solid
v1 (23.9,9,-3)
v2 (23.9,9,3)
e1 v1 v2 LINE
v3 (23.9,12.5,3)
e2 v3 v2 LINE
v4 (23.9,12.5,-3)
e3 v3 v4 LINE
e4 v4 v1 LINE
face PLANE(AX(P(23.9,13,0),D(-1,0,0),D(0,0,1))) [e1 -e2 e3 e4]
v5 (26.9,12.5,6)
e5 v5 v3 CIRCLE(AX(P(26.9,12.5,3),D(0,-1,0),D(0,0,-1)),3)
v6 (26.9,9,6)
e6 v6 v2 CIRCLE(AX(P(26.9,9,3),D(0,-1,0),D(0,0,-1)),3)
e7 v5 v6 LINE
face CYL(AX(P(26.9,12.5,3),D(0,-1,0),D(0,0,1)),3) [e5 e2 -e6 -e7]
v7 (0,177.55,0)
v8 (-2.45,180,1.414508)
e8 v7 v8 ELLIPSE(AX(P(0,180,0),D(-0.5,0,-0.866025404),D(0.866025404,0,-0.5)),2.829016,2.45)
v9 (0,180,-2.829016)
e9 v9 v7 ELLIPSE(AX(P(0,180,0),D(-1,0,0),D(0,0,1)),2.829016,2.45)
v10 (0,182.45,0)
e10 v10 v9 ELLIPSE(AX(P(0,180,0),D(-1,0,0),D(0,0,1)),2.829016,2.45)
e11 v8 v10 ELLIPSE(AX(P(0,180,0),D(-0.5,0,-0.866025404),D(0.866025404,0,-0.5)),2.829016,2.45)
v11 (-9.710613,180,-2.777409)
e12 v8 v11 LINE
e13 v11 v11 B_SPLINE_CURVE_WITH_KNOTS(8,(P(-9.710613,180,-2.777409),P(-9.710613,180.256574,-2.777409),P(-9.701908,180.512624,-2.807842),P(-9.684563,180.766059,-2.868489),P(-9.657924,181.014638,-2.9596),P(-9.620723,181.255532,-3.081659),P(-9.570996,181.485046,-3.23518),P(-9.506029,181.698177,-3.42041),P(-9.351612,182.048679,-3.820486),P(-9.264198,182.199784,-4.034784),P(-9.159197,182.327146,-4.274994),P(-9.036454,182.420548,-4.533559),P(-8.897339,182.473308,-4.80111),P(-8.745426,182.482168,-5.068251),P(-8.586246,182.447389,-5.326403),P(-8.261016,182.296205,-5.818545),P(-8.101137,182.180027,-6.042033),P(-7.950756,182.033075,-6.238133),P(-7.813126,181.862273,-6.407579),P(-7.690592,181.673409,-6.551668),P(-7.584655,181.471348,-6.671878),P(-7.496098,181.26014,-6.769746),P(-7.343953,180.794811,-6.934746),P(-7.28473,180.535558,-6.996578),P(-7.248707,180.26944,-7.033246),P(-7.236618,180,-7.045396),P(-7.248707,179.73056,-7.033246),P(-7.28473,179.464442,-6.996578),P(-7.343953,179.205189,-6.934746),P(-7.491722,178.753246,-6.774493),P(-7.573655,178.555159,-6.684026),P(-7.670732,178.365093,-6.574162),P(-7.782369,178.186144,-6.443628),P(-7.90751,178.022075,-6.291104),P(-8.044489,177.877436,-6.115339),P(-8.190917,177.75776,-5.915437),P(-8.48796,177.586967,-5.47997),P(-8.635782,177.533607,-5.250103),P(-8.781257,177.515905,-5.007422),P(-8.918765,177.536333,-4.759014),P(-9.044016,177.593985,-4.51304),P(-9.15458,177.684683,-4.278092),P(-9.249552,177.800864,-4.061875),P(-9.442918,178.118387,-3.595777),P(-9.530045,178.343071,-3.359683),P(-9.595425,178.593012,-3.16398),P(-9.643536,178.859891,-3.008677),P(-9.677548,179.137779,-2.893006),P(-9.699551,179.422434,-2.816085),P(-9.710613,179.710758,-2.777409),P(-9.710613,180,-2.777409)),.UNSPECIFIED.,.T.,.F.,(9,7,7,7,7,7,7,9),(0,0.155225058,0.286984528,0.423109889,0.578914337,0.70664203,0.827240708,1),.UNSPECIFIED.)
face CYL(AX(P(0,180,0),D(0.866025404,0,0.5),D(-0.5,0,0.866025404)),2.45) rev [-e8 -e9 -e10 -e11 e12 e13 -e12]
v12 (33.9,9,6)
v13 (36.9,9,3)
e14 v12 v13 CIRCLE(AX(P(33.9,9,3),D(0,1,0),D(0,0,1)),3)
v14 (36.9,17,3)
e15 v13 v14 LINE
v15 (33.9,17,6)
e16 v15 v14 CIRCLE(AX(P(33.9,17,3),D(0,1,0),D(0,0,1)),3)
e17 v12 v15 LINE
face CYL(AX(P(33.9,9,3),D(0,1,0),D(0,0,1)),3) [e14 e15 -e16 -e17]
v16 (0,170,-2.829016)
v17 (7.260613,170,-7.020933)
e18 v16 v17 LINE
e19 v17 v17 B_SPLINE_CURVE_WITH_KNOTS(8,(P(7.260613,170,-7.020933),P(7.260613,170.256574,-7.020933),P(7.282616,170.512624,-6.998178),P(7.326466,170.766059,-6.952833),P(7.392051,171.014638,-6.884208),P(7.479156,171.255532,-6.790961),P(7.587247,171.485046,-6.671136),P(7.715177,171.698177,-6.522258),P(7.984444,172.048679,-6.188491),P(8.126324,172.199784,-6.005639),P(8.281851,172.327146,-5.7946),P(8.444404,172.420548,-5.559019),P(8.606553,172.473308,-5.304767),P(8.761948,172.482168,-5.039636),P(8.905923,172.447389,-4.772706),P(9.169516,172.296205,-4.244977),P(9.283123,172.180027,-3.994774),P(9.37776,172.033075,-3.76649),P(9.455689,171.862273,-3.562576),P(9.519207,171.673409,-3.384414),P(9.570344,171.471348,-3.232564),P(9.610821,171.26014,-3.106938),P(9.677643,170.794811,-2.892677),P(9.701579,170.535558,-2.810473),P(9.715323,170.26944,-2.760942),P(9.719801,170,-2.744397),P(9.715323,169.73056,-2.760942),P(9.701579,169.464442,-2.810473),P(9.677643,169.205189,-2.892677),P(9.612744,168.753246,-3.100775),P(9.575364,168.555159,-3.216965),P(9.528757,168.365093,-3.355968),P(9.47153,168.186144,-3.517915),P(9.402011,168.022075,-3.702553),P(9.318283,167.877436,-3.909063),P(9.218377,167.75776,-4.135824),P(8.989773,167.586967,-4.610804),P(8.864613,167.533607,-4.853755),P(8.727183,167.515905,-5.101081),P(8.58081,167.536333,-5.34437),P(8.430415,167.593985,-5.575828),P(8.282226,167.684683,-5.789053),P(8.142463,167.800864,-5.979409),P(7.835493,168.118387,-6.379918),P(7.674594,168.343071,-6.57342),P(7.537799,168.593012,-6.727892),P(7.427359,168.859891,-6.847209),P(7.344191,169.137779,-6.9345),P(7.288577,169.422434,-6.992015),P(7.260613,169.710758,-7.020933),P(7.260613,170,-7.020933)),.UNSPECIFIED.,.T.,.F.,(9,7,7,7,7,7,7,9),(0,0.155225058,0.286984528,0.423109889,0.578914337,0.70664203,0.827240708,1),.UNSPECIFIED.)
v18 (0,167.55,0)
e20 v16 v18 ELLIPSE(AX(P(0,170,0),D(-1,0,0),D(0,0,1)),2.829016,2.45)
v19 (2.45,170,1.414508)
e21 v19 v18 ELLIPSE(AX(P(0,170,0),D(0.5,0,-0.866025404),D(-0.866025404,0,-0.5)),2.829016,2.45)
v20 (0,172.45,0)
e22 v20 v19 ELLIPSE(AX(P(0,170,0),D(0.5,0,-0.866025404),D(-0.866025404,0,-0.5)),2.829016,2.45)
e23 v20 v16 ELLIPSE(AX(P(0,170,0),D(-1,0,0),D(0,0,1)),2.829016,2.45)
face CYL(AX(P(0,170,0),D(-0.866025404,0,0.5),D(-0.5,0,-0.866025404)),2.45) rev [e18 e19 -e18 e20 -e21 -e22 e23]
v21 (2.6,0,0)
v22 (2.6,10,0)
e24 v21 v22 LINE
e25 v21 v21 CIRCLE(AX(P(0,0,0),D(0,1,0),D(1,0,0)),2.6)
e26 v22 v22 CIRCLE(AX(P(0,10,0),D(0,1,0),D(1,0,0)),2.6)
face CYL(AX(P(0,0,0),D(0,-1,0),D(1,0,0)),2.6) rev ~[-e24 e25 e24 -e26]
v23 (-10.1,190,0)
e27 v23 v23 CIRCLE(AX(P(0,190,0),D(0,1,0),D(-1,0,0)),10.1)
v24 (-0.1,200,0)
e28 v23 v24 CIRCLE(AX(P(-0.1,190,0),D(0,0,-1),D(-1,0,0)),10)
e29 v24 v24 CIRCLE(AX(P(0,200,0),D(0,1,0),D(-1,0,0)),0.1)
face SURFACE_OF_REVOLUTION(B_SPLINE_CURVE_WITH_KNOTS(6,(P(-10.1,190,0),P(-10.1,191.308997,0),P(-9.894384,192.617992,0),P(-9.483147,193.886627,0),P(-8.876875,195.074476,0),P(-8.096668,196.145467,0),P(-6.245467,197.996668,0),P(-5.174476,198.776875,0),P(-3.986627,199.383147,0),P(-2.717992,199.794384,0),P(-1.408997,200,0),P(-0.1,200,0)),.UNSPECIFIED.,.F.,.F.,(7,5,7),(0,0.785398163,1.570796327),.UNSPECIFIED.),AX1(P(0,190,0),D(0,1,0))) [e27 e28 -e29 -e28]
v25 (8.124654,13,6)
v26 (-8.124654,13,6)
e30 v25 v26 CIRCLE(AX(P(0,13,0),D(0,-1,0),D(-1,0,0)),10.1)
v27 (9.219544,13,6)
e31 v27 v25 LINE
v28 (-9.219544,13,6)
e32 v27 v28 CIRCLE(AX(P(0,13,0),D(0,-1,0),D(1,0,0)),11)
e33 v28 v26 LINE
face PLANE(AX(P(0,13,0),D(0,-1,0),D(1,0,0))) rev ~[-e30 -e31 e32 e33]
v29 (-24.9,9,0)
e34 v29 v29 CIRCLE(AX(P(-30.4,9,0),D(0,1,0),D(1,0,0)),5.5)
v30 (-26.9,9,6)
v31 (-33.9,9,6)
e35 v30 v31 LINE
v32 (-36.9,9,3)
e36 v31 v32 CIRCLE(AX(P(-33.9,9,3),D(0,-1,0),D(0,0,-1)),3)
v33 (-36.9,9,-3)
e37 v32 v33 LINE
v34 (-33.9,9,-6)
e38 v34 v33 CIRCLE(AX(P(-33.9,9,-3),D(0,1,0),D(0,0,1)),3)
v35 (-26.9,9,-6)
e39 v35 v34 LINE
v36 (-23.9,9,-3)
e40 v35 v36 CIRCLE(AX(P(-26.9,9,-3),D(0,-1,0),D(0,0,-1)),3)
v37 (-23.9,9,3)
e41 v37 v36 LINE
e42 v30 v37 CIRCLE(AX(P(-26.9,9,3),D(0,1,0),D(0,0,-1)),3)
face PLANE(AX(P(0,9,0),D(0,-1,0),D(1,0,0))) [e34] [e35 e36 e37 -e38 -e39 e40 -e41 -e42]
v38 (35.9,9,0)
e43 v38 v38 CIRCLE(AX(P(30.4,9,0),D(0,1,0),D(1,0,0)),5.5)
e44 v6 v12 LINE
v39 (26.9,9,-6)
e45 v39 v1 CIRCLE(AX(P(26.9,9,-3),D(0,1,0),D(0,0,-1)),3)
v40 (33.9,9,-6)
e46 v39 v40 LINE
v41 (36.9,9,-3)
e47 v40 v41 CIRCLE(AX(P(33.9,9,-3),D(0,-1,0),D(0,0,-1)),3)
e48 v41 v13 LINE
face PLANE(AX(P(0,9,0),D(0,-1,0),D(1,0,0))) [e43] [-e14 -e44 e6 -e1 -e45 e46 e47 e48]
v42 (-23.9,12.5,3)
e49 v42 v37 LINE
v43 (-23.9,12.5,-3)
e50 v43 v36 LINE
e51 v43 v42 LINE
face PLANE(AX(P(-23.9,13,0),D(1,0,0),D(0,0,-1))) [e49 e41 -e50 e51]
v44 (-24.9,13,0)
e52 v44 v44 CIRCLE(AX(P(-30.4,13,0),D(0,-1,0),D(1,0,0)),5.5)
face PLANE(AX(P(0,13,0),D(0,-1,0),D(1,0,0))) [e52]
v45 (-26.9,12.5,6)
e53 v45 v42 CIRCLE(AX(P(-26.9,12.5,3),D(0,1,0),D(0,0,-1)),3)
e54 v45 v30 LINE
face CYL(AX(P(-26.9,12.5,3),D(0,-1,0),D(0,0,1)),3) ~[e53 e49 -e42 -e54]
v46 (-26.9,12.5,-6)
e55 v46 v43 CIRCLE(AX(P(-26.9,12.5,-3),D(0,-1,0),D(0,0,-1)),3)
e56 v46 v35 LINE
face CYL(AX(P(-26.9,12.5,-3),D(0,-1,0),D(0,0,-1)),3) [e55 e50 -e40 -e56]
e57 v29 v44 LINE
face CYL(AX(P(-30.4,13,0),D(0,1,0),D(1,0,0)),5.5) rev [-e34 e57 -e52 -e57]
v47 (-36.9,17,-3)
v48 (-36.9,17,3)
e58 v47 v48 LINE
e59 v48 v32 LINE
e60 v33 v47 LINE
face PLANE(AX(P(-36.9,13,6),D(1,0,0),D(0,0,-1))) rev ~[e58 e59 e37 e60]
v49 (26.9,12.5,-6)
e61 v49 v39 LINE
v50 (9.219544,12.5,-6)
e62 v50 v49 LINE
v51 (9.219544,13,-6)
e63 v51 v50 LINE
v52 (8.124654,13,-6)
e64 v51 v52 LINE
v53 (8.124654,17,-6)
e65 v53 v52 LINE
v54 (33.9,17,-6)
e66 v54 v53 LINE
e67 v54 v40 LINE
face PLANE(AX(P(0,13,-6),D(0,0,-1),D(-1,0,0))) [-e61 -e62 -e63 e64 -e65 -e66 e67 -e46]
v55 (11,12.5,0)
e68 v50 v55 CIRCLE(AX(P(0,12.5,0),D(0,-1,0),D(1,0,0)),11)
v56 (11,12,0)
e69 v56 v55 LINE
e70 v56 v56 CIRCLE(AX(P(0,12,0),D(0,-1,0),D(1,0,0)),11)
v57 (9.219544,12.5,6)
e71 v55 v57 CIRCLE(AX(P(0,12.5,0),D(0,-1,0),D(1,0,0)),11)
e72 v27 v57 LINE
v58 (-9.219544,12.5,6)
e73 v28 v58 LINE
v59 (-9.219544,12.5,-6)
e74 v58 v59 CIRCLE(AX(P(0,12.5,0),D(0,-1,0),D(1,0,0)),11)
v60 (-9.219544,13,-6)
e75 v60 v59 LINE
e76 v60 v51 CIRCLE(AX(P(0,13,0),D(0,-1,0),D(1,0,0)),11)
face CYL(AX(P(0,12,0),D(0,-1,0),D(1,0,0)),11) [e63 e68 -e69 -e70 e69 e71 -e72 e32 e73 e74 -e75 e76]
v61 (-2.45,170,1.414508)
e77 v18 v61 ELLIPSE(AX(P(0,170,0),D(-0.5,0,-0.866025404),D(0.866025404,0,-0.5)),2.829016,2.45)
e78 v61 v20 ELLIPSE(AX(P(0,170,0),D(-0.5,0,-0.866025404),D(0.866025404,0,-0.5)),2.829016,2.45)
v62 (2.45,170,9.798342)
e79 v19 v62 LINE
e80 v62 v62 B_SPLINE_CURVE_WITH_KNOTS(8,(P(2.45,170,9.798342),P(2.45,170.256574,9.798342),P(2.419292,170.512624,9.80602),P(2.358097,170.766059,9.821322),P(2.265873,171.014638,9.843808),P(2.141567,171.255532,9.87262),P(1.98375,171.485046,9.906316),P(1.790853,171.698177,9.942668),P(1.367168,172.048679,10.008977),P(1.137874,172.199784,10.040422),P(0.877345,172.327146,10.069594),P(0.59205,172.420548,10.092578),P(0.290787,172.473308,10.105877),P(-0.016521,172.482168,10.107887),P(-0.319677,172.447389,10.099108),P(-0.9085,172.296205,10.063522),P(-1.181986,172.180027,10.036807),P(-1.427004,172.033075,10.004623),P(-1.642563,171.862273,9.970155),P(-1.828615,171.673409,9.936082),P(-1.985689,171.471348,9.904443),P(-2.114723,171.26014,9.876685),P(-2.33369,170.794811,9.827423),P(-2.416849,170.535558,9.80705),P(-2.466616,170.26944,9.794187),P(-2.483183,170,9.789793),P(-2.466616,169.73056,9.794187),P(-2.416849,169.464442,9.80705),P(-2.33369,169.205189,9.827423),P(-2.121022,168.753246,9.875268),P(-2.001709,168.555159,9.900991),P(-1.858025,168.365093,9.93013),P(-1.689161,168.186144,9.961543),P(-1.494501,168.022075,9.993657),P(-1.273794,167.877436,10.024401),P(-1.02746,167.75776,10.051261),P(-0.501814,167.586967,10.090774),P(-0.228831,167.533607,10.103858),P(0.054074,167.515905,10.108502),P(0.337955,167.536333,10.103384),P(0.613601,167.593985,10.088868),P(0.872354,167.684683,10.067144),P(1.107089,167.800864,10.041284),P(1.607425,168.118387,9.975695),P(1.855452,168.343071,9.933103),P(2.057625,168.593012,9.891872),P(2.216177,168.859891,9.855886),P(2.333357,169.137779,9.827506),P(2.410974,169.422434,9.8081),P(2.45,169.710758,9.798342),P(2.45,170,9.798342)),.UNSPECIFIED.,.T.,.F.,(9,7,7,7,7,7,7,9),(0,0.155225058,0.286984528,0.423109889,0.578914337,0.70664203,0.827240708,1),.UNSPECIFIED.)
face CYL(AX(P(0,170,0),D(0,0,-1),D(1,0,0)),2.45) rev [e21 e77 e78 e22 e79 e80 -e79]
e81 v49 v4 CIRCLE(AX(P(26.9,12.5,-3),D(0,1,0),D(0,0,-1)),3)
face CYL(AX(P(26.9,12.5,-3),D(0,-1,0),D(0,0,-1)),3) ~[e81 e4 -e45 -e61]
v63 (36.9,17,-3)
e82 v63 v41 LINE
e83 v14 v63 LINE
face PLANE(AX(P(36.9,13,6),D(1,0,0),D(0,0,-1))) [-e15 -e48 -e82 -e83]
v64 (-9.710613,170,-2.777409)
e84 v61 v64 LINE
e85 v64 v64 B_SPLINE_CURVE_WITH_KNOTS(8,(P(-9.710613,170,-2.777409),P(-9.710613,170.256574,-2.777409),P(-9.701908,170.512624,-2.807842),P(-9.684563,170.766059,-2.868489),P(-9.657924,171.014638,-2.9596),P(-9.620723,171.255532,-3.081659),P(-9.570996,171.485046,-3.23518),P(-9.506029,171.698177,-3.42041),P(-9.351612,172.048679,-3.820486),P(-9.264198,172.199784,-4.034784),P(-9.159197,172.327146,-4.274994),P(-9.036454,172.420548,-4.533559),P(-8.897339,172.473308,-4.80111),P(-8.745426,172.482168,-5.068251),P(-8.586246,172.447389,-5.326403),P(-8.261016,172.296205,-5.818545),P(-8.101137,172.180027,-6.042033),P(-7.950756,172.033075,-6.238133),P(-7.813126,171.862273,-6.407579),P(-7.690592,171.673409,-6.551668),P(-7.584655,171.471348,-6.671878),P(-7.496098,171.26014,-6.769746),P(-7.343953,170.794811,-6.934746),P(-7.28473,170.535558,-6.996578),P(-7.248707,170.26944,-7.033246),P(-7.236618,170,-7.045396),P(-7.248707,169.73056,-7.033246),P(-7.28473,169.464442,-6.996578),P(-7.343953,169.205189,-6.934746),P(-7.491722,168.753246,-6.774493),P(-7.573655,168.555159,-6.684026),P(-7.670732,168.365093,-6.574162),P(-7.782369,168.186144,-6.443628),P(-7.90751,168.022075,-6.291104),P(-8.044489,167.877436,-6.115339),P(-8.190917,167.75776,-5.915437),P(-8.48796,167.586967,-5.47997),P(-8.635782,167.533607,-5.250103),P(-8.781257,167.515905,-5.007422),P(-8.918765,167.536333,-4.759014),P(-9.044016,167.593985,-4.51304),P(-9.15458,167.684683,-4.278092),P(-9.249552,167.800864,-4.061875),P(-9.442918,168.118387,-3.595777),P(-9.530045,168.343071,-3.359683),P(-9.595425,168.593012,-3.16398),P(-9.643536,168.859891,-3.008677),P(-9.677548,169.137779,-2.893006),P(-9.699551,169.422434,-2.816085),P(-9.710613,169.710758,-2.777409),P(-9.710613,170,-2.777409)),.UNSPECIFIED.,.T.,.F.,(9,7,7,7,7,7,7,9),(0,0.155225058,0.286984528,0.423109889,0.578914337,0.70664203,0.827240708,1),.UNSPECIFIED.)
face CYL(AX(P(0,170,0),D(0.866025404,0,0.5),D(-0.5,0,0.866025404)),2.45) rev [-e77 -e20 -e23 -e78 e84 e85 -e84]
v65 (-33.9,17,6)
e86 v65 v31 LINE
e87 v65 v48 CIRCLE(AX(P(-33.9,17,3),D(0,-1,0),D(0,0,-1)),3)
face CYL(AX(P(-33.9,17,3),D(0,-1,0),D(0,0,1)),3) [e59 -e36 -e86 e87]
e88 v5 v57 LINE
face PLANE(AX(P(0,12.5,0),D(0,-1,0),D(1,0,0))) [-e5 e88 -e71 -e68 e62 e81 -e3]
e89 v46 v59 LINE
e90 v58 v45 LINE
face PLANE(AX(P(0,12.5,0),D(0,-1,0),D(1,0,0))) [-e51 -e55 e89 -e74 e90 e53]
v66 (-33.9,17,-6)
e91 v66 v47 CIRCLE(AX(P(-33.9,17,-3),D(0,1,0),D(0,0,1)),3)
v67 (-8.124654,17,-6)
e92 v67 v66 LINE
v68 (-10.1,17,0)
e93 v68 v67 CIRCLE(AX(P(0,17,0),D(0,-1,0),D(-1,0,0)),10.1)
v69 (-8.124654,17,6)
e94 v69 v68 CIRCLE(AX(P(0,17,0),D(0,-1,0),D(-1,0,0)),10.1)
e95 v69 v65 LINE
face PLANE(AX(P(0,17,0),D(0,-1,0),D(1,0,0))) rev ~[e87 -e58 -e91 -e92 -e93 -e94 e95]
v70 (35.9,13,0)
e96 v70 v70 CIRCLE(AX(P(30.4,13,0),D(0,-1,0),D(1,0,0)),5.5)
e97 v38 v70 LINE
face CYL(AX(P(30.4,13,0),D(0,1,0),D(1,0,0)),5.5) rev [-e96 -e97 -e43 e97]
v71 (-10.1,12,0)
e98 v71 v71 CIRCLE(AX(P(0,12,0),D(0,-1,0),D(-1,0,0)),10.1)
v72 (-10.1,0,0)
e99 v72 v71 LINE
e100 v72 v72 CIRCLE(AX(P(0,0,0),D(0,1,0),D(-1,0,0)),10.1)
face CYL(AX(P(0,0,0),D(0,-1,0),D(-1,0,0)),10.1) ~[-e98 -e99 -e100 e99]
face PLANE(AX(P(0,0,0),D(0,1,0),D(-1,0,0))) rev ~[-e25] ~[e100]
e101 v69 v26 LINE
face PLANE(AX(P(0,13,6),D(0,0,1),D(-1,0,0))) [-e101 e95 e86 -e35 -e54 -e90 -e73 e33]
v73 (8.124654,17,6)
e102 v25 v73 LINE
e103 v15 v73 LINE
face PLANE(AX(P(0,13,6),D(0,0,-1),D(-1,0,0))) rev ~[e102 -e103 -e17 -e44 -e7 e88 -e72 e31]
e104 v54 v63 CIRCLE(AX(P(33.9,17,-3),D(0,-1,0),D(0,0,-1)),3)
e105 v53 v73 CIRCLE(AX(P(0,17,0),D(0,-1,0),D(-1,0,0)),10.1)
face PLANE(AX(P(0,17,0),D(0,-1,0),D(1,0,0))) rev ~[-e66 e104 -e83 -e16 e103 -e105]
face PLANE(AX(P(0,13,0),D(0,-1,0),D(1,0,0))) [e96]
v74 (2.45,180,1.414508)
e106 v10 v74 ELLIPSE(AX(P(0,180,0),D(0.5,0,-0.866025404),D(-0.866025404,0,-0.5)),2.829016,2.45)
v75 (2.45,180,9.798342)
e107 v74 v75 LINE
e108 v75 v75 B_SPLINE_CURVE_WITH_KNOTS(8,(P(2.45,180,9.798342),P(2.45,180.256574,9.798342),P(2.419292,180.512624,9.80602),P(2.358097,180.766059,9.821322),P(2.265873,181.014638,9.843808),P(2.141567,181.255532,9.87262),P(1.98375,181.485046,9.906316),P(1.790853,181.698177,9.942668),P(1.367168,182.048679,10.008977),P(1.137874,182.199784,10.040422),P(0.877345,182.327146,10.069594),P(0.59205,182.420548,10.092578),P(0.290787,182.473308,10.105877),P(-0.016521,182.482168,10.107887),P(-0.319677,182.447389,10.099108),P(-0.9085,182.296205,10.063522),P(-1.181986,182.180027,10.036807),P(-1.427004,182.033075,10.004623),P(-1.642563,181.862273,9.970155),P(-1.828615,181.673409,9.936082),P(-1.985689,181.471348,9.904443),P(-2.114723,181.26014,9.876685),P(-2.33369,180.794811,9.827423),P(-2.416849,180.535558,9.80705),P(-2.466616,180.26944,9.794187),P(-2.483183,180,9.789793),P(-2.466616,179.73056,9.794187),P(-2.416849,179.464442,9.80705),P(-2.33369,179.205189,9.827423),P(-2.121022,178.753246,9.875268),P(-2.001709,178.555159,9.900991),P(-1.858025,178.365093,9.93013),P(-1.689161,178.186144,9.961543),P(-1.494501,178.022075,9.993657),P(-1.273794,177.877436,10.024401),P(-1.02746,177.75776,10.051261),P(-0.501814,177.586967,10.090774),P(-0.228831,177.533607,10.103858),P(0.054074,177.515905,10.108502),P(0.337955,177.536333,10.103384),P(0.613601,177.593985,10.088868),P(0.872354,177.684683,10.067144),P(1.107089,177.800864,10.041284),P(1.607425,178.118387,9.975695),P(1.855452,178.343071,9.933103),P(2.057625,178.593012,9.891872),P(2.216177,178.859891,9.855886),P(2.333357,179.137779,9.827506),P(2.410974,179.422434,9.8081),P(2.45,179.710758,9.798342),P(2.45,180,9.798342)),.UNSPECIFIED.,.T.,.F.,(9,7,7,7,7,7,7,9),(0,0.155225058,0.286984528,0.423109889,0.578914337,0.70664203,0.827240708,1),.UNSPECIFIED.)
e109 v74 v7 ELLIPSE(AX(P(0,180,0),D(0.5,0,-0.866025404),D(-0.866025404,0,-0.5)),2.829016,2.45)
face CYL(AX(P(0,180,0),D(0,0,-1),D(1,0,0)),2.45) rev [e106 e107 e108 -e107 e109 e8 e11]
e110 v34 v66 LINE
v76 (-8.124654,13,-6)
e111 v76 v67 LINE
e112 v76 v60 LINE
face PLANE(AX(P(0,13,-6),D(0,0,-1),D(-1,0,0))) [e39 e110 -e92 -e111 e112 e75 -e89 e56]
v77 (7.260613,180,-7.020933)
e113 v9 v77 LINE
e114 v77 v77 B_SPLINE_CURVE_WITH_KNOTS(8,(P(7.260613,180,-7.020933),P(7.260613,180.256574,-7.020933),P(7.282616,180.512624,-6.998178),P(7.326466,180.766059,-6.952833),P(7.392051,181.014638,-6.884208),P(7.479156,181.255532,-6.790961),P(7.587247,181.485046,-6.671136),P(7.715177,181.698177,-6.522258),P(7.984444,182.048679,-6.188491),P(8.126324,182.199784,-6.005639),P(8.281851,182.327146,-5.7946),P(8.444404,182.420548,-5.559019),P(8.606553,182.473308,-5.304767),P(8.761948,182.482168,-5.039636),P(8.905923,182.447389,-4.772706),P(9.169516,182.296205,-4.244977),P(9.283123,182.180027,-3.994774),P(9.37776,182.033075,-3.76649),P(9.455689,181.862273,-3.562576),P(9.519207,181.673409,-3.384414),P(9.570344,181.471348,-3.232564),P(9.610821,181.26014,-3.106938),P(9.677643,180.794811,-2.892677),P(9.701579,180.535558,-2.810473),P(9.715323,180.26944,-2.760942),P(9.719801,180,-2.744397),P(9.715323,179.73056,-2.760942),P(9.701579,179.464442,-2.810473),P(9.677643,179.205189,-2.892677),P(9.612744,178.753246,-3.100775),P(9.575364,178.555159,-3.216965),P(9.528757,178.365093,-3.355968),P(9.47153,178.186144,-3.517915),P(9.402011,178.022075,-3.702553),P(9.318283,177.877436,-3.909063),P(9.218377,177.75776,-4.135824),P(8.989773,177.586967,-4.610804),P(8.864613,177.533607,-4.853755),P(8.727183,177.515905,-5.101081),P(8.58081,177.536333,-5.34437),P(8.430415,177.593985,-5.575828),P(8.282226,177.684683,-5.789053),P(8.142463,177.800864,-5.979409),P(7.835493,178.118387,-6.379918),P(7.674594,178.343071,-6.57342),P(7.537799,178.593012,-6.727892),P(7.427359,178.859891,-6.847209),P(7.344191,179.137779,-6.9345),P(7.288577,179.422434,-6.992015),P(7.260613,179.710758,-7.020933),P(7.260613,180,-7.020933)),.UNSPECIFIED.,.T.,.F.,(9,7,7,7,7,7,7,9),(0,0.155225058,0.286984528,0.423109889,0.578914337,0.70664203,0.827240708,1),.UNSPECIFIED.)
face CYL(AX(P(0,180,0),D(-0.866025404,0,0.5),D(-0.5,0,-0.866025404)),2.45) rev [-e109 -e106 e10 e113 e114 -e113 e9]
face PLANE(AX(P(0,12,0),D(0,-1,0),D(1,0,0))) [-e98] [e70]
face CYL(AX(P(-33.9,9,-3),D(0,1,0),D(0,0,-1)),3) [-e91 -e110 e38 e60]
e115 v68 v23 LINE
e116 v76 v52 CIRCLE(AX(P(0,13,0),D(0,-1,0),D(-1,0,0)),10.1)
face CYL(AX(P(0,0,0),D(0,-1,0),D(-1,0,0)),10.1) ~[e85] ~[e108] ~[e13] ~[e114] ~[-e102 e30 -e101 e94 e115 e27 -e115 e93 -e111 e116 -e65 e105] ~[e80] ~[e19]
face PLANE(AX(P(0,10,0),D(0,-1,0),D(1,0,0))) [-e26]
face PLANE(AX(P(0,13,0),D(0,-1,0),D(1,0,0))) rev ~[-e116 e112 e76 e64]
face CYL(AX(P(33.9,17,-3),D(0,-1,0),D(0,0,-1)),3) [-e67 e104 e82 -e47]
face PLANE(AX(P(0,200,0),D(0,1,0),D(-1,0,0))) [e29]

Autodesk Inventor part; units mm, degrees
ref_plane "YZ Plane" through (0, 0, 0) normal (1, 0, 0) x (0, 1, 0)
sketch "Szkic1" plane through (0, 0, 0) normal (0, 1, 0) x (-1, 0, 0)
  circle A0 centre (0, 0) radius 10.1
  dimension "d0" = 20.2
extrude "Wyciągnięcie proste1" add sketch "Szkic1" along normal blind 200
ref_plane "Płaszczyzna konstrukcyjna1" through (0, 13, 0) normal (0, -1, 0) x (1, 0, 0)
sketch "Szkic2" plane through (0, 13, 0) normal (0, -1, 0) x (1, 0, 0)
  line L0 (0, 0) -> (30.4, 0)
  line L1 (0, 0) -> (30.4, 0) construction
  circle A0 centre (30.4, 0) radius 5.5
  line L2 (35.9, 0) -> (36.9, 0)
  line L3 (36.9, 0) -> (0, 0)
  line L4 (0, 0) -> (0, -6)
  line L5 (0, -6) -> (36.9, -6)
  line L6 (36.9, -6) -> (36.9, 0)
  line L7 (0, 0) -> (0, -16.4984)
  line L8 (0, 6) -> (36.9, 6)
  line L9 (36.9, 6) -> (36.9, 0)
  line L10 (0, 0) -> (-30.4, 0)
  line L11 (0, 0) -> (-30.4, 0) construction
  circle A1 centre (-30.4, 0) radius 5.5
  line L12 (-35.9, 0) -> (-36.9, 0)
  line L13 (-36.9, 0) -> (0, 0)
  line L14 (0, -6) -> (-36.9, -6)
  line L15 (0, 6) -> (-36.9, 6)
  line L16 (-36.9, 6) -> (-36.9, -6)
  line L17 (-24.9, 0) -> (-23.9, 0)
  line L18 (-23.9, 0) -> (-23.9, 6)
  line L19 (-23.9, 0) -> (-23.9, -6)
  line L20 (24.9, 0) -> (23.9, 0)
  line L21 (23.9, 0) -> (23.9, 6)
  line L22 (23.9, 0) -> (23.9, -6)
  dimension "d4" = 30.4
  dimension "d5" = 0
  dimension "d6" = 11
  dimension "d7" = 1
  dimension "d8" = 6
  dimension "d13" = 1
  dimension "d14" = 1
extrude "Wyciągnięcie proste2" add sketch "Szkic2" along normal blind 0.5 contours L10 L18 L15 L8 L21 L0 | L0 L22 L5 L4 | L4 L14 L19 L10 | L21 L8 L9 L2 A0 L0 | L0 A0 L2 L6 L5 L22 | L19 L14 L16 L12 A1 L10 | L10 A1 L12 L16 L15 L18
extrude "Wyciągnięcie proste3" add sketch "Szkic2" against normal blind 4
extrude "Wyciągnięcie proste4" add sketch "Szkic2" along normal blind 4 contours L21 L8 L9 L2 A0 L0 | L0 A0 L2 L6 L5 L22 | L19 L14 L16 L12 A1 L10 | L10 A1 L12 L16 L15 L18
fillet "Zaokrąglenie1" radius 3 8 edges at (-36.9, 13, 6) (-23.9, 10.75, 6) (-36.9, 13, -6) (-23.9, 10.75, -6) (36.9, 13, 6) (23.9, 10.75, 6) (36.9, 13, -6) (23.9, 10.75, -6)
sketch "Szkic3" plane through (0, 0, 0) normal (0, 0, 1) x (1, 0, 0)
  line L0 (10.1, 200) -> (-10.1, 200) projected
  line L1 (0, 200) -> (0, 190)
  line L2 (0, 190) -> (0, 180)
  line L3 (0, 180) -> (0, 170)
  circle A0 centre (0, 170) radius 2.45
  circle A1 centre (0, 180) radius 2.45
  point P0 (0, 0)
  dimension "d21" = 10
  dimension "d22" = 10
  dimension "d23" = 10
  dimension "d24" = 4.9
  dimension "d25" = 4.9
extrude "Wyciągnięcie proste5" cut sketch "Szkic3" along normal blind 60
pattern_circular "Szyk kołowy1" count 3 over 360 about axis through (0, 0, 0) along (0, 1, 0) of "Wyciągnięcie proste5"
fillet "Zaokrąglenie2" radius 10 1 edges at (10.1, 200, 0)
ref_plane "Płaszczyzna konstrukcyjna2" through (0, 12, 0) normal (0, -1, 0) x (1, 0, 0)
sketch "Szkic4" plane through (0, 12, 0) normal (0, -1, 0) x (1, 0, 0)
  circle A0 centre (0, 0) radius 11
  dimension "d36" = 22
extrude "Wyciągnięcie proste6" add sketch "Szkic4" against normal blind 1
sketch "Szkic5" plane through (0, 0, 0) normal (0, -1, 0) x (1, 0, 0)
  line L0 (0, -2.829) -> (0, 0) projected
  circle A0 centre (0, 0) radius 2.6
  dimension "d39" = 5.2
extrude "Wyciągnięcie proste7" cut sketch "Szkic5" against normal blind 10
properties part number "andomierz_wal" material "Tworzywo sztuczne ABS"
